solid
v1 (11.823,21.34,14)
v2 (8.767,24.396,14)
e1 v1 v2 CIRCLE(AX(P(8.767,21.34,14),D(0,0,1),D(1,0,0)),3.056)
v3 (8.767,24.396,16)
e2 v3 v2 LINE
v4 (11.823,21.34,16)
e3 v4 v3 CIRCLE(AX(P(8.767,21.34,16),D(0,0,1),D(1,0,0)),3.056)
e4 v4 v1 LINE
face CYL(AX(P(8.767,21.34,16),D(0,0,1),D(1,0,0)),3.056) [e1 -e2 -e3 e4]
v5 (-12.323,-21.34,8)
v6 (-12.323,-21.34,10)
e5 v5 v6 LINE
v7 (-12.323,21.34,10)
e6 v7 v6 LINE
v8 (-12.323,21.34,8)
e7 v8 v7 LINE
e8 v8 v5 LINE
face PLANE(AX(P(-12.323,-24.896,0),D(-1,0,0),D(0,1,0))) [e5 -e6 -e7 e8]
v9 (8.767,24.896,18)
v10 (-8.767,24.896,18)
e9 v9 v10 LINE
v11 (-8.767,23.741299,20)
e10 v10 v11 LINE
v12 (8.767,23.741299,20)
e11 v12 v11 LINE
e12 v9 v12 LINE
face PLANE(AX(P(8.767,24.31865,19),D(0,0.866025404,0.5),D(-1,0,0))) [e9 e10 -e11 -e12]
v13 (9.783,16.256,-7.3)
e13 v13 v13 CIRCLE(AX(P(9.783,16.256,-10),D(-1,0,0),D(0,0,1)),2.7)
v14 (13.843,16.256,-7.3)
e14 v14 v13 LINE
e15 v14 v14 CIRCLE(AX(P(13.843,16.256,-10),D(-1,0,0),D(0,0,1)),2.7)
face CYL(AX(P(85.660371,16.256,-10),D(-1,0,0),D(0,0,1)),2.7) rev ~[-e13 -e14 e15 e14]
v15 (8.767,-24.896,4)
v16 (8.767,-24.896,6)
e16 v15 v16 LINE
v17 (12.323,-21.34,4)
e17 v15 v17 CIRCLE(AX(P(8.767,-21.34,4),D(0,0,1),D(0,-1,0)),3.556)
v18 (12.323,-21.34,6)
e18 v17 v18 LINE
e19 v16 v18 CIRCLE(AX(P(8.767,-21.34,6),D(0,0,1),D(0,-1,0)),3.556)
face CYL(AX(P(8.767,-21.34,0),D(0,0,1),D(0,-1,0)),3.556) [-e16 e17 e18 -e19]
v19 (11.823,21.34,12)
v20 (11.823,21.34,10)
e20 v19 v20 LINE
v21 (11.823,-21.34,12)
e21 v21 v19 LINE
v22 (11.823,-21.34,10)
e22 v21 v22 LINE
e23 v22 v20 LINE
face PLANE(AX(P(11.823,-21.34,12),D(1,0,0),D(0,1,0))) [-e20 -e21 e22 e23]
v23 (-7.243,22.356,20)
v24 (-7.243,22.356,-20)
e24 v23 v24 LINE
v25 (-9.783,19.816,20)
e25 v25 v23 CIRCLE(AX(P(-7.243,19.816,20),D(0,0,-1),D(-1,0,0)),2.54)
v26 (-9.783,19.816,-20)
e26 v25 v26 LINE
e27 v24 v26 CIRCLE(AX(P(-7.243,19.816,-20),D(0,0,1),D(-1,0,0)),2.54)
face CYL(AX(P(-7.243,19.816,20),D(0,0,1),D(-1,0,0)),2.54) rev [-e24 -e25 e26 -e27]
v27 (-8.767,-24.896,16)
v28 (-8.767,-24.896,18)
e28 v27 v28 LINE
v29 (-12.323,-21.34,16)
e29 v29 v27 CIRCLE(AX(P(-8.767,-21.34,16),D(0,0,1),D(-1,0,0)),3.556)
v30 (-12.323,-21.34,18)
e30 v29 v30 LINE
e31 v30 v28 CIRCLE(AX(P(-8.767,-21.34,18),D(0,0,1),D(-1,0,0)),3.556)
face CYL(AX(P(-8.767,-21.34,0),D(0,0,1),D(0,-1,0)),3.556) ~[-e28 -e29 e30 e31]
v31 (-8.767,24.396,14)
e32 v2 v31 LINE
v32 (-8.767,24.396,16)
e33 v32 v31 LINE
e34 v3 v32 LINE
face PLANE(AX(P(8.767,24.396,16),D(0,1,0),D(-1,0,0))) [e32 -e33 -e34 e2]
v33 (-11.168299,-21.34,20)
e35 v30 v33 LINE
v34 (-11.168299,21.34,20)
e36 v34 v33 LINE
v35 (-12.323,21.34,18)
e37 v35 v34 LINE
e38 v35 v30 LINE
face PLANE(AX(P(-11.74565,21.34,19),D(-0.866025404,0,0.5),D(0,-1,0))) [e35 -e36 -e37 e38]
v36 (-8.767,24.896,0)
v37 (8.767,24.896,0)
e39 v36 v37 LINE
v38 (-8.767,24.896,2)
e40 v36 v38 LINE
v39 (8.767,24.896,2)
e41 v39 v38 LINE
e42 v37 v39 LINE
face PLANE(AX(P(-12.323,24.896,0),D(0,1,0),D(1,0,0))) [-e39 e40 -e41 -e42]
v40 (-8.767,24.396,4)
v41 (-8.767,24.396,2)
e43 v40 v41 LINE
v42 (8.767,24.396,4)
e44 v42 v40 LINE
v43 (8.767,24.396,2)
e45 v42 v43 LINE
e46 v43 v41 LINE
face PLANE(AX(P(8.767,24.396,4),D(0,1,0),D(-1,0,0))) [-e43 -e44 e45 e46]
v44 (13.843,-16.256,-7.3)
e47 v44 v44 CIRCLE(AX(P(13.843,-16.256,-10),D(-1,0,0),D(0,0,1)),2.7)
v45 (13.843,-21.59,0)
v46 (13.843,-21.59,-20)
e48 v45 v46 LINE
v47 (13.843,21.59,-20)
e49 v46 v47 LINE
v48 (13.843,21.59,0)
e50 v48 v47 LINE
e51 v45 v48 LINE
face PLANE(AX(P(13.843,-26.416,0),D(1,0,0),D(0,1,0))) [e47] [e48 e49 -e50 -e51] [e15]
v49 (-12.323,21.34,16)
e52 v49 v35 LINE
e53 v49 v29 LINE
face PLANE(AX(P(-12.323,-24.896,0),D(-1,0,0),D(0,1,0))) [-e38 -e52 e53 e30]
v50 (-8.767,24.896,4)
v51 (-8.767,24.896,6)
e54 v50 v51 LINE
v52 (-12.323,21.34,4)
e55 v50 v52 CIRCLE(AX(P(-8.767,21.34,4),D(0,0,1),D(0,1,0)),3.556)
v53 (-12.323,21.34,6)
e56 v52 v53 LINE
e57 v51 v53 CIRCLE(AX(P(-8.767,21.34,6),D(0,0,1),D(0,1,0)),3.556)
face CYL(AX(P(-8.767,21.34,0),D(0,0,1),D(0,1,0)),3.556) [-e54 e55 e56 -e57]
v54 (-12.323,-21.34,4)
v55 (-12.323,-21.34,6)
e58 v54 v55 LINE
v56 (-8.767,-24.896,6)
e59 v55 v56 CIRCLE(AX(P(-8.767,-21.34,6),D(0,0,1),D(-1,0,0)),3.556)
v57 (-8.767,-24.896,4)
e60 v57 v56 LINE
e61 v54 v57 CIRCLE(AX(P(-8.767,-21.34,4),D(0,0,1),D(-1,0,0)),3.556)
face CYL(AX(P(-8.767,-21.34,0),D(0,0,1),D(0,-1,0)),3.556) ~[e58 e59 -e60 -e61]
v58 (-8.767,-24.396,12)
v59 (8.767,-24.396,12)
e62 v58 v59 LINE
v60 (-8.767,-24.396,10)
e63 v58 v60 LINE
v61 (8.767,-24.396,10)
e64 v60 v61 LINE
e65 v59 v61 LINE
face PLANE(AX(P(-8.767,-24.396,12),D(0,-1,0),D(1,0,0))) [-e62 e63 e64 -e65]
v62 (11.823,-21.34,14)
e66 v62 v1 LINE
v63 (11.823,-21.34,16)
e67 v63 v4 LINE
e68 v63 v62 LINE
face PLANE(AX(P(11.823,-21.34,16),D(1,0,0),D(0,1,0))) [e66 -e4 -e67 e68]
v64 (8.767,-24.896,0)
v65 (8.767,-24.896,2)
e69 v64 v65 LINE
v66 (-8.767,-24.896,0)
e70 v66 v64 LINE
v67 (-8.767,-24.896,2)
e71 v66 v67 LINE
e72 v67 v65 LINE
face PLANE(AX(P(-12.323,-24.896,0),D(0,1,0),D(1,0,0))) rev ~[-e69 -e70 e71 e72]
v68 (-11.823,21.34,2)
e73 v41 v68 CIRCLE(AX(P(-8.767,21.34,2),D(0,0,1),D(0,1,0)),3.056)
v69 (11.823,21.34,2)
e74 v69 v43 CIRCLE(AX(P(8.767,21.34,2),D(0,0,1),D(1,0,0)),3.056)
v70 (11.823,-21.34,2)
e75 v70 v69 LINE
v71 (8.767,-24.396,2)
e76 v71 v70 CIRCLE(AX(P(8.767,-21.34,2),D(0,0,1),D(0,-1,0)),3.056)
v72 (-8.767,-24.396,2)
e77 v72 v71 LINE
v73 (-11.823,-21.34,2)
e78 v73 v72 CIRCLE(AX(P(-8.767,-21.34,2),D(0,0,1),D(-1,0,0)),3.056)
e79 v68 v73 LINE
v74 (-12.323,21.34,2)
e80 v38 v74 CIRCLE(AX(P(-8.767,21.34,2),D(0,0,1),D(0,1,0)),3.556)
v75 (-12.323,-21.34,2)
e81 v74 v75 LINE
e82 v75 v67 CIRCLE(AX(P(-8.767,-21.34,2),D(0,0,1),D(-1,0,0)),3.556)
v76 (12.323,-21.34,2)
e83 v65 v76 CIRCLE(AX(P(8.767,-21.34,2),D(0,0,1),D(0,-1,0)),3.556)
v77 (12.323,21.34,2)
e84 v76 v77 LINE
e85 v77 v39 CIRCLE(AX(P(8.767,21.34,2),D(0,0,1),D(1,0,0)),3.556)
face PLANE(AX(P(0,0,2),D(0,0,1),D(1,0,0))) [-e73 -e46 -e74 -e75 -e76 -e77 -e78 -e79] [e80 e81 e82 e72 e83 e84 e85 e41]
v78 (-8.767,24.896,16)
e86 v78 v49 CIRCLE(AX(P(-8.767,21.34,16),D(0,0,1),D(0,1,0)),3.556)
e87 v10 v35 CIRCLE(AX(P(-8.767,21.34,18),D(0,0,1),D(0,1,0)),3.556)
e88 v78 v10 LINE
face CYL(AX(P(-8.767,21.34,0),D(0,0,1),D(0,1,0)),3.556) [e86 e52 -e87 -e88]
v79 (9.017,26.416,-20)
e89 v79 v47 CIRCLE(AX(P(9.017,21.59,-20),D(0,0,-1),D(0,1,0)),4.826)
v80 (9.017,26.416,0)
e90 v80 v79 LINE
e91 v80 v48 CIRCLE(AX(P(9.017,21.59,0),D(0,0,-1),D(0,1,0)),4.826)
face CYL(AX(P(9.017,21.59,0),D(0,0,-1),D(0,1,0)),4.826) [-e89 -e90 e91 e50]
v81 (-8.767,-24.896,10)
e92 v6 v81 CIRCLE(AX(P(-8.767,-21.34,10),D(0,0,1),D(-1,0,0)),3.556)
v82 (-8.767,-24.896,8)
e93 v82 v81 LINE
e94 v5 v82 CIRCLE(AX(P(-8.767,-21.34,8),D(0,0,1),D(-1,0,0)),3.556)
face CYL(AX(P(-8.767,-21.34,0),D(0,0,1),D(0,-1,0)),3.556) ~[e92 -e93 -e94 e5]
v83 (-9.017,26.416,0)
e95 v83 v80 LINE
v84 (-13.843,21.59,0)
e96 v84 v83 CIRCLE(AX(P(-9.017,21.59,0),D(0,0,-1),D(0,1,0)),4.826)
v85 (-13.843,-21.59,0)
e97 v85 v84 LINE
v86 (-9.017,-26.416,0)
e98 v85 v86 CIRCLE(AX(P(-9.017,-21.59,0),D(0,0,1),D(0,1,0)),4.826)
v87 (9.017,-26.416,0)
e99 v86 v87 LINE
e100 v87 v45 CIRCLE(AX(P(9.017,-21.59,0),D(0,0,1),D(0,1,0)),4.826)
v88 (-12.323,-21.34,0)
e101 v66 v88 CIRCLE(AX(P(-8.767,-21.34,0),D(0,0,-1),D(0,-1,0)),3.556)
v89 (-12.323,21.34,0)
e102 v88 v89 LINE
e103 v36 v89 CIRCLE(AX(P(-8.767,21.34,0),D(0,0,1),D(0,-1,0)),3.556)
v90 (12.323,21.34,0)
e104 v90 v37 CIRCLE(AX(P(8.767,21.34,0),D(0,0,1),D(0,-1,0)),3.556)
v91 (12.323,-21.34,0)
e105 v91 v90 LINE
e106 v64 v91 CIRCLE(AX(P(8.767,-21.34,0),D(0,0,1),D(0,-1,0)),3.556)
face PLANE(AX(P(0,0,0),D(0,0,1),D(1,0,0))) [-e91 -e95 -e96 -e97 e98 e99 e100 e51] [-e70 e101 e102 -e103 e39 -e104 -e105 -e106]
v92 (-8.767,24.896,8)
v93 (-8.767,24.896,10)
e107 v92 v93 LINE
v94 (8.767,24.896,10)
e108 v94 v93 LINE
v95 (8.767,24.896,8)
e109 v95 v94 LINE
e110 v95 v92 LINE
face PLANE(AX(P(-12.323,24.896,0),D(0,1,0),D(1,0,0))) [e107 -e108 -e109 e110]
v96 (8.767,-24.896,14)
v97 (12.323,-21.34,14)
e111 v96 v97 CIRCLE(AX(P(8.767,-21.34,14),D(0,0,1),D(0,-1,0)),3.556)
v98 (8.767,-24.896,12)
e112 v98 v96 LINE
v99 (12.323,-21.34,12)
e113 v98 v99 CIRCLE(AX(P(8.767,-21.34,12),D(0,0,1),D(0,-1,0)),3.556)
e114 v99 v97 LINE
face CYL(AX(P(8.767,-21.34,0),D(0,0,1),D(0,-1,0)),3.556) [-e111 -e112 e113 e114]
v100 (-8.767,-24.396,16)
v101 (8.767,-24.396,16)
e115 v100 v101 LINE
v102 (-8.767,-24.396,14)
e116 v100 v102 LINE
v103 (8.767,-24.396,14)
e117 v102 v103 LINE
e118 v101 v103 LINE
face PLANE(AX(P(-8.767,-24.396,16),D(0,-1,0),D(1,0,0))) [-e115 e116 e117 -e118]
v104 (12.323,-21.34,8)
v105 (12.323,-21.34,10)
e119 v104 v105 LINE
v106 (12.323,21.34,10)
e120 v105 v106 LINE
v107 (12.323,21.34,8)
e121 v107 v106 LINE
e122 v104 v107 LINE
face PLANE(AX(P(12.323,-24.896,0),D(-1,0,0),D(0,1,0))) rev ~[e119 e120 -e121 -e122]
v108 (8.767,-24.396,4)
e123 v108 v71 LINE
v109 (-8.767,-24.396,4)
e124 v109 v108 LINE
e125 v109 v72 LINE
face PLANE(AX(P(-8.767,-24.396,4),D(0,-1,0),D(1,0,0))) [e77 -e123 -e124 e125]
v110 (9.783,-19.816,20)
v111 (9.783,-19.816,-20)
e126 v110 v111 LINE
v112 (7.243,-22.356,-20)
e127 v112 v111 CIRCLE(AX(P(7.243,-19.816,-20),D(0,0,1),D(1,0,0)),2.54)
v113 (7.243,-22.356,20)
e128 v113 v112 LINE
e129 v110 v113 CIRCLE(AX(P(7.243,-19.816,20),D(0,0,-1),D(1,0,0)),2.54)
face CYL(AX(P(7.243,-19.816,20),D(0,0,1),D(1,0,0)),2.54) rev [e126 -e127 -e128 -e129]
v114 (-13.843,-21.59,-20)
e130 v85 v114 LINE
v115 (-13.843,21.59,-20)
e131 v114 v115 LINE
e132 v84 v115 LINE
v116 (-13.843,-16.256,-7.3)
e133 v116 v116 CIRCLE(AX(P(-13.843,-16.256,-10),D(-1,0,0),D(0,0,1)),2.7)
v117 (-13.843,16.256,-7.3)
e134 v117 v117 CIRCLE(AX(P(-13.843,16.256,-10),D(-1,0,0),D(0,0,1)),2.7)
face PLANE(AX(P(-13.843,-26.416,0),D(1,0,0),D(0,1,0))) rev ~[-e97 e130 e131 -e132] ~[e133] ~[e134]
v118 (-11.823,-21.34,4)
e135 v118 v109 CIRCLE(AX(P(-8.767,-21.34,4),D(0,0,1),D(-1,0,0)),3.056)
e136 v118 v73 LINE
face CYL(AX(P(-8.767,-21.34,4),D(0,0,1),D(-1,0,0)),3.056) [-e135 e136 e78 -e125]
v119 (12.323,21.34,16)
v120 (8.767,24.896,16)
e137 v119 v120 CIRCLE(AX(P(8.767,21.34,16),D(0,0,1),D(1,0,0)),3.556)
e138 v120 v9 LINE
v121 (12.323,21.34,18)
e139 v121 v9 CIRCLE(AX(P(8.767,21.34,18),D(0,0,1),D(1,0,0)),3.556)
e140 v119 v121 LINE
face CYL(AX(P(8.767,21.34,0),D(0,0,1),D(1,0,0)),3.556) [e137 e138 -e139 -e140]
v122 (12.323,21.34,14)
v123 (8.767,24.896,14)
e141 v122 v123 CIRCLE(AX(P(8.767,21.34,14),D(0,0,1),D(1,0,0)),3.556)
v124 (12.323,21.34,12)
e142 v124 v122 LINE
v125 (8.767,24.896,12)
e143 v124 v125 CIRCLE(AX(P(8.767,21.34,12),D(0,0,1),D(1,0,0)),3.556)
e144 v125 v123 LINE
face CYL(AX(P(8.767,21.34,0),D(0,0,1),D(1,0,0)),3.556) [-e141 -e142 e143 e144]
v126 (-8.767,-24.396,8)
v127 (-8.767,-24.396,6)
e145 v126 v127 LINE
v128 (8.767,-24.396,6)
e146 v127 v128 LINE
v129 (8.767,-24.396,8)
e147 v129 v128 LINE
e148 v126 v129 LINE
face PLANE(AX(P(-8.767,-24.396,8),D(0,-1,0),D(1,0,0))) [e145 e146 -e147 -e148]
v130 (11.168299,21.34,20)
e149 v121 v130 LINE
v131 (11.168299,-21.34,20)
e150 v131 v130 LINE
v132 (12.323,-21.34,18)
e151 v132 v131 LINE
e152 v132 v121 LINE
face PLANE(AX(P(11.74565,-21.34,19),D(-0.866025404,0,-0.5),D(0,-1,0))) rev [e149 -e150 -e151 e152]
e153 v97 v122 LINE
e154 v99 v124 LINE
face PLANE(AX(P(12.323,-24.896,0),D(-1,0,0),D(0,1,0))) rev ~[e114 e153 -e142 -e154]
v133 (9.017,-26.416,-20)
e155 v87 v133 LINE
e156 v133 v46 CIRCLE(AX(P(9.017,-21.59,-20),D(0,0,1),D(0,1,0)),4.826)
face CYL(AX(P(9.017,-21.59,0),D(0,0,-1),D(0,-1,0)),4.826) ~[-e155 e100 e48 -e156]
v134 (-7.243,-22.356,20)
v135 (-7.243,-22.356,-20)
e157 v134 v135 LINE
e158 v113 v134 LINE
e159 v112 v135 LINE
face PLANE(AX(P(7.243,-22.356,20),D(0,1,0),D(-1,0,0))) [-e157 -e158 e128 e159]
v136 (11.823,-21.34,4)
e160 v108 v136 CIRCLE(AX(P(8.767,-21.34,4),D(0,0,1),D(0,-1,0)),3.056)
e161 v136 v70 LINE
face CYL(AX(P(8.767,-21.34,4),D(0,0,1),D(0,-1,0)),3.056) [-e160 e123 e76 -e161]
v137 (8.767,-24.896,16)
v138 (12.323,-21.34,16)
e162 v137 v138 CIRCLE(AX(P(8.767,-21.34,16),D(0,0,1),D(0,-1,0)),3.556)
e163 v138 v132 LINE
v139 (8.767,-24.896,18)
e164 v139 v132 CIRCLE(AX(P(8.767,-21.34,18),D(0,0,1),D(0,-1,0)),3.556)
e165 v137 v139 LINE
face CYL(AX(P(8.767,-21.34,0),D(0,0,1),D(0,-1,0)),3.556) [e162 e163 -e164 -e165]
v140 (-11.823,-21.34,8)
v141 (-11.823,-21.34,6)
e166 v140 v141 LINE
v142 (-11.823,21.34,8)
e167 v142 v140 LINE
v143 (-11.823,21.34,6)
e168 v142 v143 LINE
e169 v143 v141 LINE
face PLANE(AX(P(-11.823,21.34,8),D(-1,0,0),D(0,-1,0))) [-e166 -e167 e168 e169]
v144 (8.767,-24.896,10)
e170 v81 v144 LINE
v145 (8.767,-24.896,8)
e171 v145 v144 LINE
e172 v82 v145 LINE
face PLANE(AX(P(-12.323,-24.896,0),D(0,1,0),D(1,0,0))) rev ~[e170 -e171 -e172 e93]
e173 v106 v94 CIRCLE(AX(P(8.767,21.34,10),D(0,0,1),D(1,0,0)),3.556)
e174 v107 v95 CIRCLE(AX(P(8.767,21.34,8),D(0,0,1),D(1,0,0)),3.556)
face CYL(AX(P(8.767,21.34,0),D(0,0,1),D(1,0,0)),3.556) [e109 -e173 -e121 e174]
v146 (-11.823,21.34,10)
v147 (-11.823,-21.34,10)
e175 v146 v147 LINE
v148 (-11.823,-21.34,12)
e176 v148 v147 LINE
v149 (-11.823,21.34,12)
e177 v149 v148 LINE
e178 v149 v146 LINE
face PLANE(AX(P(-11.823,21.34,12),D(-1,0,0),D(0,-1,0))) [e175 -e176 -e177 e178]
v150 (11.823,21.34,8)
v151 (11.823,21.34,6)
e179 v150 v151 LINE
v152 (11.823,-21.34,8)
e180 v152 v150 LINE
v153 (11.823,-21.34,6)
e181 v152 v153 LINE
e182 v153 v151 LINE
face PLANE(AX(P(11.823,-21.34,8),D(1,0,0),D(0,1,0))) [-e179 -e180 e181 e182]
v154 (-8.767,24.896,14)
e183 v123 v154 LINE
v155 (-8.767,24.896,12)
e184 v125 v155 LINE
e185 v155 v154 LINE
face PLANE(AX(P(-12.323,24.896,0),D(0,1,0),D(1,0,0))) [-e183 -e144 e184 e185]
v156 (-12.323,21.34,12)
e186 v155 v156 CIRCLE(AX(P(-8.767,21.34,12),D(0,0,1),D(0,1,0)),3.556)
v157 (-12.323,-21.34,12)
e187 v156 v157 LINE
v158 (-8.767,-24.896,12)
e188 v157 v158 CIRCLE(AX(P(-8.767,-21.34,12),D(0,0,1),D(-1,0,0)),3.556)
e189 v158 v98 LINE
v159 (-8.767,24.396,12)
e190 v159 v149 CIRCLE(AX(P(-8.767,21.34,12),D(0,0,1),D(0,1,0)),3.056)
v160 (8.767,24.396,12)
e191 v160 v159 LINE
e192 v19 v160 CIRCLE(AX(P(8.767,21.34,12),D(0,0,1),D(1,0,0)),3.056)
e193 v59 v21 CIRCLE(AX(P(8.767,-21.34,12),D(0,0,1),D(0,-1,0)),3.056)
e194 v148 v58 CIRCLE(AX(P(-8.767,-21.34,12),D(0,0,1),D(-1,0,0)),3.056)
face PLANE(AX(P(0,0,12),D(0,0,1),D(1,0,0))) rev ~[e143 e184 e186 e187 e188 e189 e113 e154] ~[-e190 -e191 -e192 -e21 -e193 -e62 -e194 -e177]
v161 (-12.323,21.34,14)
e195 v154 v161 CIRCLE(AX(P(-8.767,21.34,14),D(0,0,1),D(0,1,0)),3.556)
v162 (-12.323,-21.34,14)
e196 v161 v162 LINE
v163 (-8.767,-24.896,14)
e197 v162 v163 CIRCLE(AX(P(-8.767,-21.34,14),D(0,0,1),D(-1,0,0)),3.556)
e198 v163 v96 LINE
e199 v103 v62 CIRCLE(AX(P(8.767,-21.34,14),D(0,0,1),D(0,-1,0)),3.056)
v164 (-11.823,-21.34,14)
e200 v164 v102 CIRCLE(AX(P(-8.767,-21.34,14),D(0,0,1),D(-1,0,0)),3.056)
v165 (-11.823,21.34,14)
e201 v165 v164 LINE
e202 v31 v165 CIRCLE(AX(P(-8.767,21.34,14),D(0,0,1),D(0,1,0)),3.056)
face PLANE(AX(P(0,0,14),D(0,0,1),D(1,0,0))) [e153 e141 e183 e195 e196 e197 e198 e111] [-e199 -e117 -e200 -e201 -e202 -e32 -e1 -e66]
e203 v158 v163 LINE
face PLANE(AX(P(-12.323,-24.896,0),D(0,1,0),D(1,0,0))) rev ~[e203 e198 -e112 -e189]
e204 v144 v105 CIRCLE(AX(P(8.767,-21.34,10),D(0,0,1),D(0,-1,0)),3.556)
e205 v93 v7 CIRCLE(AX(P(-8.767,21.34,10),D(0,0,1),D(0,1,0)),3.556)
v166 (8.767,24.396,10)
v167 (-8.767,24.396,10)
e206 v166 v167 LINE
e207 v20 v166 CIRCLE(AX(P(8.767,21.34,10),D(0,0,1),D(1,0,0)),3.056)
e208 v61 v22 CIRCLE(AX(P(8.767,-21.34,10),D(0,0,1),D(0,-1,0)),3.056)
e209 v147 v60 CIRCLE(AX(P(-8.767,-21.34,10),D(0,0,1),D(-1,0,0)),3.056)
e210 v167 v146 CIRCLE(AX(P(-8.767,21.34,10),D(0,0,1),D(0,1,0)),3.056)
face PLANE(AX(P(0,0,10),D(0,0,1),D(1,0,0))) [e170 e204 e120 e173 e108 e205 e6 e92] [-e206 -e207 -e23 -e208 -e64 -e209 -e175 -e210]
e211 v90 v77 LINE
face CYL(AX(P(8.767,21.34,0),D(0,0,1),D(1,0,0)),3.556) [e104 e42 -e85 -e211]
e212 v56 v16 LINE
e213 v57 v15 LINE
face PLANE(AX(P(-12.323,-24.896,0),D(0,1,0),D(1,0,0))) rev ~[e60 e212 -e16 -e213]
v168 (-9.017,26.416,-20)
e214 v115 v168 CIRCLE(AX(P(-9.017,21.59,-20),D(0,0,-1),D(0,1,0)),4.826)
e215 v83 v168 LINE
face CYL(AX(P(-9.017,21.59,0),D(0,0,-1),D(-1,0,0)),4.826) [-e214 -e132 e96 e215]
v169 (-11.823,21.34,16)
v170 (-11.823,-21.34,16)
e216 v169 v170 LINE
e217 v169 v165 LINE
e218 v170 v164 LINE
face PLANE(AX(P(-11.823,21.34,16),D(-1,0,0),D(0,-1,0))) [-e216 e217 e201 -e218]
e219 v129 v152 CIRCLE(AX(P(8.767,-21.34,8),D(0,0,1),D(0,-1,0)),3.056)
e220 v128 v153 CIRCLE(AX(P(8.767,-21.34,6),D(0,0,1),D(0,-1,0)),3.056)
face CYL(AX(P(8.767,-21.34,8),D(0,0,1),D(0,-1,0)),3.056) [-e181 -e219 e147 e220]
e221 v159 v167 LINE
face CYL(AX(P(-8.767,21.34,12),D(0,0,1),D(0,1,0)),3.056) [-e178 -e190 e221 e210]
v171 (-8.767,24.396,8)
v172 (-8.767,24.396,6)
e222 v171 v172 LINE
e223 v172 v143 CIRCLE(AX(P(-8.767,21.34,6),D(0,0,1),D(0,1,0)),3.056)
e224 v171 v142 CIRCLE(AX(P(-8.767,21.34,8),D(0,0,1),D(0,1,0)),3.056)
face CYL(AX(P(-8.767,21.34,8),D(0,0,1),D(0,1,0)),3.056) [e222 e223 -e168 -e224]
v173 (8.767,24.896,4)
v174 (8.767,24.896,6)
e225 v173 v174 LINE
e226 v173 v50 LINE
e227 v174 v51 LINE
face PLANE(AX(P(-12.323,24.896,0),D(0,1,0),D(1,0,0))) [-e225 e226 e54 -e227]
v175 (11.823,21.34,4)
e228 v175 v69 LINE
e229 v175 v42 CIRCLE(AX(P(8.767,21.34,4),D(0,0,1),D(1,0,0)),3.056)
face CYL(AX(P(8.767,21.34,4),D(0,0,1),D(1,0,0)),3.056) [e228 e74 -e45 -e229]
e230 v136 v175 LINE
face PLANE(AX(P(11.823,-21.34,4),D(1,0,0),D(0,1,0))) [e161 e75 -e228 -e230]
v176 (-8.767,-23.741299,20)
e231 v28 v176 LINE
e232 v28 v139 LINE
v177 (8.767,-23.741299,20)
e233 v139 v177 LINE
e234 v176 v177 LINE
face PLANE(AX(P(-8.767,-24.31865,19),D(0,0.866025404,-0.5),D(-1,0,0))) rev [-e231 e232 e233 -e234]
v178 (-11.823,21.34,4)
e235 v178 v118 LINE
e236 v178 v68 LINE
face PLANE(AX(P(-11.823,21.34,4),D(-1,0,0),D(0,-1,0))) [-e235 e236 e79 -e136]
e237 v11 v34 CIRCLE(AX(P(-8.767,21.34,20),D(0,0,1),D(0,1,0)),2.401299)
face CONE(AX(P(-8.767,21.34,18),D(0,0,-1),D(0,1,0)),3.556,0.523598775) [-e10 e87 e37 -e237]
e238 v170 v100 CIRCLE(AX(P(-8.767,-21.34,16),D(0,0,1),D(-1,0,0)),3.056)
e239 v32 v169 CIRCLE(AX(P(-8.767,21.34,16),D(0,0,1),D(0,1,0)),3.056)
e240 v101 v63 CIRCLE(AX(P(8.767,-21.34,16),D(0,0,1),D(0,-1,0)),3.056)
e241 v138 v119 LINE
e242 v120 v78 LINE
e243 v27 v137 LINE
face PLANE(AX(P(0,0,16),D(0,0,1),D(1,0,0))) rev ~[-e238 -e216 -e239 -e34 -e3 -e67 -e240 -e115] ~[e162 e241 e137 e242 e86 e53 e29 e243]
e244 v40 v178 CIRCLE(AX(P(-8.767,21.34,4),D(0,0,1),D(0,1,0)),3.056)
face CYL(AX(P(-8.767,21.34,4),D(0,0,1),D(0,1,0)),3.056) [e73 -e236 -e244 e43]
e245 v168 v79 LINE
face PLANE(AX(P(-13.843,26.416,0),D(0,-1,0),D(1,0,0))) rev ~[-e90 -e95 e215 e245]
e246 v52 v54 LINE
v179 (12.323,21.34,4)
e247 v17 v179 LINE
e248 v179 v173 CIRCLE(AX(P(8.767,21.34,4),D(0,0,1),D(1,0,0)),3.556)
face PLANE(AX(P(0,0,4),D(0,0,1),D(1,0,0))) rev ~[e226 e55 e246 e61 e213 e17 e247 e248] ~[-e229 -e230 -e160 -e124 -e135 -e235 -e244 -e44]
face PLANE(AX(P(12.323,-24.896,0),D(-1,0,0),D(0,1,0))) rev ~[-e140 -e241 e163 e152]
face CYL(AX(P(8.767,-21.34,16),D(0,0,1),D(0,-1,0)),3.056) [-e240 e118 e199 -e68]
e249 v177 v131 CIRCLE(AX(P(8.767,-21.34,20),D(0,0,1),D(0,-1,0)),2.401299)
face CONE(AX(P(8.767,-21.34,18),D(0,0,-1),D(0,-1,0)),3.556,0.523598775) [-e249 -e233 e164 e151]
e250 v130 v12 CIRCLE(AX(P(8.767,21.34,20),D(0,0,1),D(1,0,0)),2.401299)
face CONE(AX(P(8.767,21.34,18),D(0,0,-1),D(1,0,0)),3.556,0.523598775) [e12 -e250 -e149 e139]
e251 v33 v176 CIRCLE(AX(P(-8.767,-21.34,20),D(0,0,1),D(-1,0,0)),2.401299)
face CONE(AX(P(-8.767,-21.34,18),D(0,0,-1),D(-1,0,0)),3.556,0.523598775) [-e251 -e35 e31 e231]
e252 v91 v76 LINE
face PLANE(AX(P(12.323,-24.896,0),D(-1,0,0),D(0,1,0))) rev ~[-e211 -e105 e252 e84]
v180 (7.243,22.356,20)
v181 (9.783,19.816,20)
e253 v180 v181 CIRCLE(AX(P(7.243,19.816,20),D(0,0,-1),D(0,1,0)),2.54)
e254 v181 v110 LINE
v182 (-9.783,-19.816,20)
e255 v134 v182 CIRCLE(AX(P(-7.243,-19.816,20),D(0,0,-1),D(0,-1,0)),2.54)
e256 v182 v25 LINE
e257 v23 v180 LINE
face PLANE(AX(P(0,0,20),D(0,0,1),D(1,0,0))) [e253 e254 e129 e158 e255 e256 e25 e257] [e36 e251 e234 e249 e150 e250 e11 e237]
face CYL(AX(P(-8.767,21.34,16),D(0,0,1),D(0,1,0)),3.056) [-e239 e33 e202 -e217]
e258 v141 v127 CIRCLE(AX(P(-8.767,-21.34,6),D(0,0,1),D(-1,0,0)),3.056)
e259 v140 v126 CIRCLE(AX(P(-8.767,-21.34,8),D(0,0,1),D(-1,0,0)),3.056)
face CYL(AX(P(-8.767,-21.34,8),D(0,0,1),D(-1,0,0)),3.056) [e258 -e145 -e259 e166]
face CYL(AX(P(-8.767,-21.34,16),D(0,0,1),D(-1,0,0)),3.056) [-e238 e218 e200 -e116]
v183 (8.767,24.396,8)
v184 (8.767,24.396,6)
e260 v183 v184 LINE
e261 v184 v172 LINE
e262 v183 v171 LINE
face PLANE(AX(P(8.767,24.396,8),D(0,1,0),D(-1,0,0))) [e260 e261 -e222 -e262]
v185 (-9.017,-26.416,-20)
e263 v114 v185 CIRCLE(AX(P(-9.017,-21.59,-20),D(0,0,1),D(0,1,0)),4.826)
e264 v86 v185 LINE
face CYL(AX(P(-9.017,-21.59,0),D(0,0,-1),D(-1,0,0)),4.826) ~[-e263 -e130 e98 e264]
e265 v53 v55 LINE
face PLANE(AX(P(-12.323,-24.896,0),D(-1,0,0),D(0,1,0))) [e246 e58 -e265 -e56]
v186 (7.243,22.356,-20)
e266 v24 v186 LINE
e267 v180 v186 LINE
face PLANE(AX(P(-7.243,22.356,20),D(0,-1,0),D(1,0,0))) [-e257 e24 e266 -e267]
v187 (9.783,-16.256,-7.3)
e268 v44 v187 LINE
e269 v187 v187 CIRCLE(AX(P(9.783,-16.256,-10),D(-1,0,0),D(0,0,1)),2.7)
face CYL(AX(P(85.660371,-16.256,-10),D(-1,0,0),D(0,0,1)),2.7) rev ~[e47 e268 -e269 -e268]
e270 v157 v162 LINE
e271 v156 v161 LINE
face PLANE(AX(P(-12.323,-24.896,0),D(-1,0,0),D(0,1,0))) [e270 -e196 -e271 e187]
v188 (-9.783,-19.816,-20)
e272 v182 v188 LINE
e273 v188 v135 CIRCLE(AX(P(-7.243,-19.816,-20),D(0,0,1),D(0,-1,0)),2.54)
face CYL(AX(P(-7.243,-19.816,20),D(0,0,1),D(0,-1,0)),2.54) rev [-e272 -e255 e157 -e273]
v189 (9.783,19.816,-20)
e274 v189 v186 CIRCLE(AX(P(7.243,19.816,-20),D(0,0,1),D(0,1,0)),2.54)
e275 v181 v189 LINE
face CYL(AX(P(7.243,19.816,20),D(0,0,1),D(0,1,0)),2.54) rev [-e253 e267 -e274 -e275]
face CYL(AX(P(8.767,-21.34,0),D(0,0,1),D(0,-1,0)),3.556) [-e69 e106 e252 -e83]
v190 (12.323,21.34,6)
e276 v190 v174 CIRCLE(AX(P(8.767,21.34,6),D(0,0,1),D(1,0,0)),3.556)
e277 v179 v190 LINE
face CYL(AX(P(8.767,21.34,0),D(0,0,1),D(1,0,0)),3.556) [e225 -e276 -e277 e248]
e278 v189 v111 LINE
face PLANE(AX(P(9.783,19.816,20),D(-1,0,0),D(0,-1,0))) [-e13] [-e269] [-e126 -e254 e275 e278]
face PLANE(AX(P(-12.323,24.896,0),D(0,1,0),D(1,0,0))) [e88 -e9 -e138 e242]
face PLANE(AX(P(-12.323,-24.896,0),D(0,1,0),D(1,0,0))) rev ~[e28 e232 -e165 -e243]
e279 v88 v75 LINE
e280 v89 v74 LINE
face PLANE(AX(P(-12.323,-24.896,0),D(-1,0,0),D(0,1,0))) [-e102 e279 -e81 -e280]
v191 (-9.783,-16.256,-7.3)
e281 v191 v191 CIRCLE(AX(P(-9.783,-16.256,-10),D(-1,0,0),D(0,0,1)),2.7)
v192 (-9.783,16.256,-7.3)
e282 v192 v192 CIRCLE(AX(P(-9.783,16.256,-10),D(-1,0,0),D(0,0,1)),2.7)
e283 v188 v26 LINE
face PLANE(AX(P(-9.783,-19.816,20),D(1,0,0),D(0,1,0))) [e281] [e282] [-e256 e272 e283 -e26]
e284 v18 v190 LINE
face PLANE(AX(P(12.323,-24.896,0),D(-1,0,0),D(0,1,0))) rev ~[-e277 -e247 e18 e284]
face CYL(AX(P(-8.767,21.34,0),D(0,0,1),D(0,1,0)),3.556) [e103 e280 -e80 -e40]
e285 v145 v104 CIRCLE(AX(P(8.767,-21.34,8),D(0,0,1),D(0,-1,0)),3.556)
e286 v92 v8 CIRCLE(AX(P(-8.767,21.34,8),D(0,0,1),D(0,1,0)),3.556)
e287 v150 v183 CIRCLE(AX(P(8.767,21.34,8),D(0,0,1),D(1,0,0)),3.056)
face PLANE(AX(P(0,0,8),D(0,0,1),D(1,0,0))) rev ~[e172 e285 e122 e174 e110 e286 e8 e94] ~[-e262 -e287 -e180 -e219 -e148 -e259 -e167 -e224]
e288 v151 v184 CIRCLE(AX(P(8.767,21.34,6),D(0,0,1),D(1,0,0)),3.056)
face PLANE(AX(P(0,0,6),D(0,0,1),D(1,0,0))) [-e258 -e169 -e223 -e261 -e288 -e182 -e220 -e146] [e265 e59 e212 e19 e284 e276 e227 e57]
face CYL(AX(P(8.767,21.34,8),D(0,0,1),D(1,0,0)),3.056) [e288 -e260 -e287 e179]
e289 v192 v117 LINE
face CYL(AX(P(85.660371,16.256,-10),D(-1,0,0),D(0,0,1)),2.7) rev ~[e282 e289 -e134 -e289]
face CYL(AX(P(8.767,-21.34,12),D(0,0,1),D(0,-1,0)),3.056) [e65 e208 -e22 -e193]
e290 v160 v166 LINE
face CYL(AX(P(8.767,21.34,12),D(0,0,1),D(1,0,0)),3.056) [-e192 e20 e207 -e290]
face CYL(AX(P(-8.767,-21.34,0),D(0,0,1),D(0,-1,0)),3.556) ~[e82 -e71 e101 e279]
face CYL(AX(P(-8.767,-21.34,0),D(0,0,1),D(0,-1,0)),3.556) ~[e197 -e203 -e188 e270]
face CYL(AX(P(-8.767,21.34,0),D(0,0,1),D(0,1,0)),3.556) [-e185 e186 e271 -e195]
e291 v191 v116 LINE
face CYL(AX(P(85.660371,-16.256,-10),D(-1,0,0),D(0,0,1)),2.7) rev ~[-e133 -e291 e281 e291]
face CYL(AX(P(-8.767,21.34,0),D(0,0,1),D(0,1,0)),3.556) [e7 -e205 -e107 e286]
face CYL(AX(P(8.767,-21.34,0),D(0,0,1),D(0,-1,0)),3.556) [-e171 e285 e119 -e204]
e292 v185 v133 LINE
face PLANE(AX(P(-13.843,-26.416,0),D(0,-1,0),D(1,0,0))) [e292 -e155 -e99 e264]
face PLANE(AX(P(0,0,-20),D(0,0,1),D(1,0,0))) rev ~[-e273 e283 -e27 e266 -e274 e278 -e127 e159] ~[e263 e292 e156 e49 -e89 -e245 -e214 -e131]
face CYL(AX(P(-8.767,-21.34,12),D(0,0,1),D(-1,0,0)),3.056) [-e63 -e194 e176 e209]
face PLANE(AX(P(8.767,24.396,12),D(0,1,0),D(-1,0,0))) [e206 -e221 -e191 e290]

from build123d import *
from OCP.BRepFilletAPI import BRepFilletAPI_MakeChamfer

# Parameters (mm, degrees)
SKETCH1_W             = 24.646
SKETCH1_H             = 49.792
BOSS_EXTRUDE1_DEPTH   = 20
SKETCH2_W             = 27.686
SKETCH2_H             = 52.832
BOSS_EXTRUDE2_DEPTH   = 20
FILLET1_R             = 3.556
FILLET2_R             = 4.826
F_5_0MM_DOWEL_HOLE2_D = 5.4
CUT_EXTRUDE1_DEPTH    = 50.894225167
CUT_EXTRUDE2_START    = -4
CUT_EXTRUDE2_DEPTH    = 2
LPATTERN1_COUNT       = 4
LPATTERN1_PITCH       = 4
CHAMFER1_SIZE         = 2
CHAMFER1_SIZE2        = 1.154700538


with BuildPart() as part:
    # Sketch1 → Boss-Extrude1 (new body)
    with BuildSketch(Plane.XY):
        Rectangle(SKETCH1_W, SKETCH1_H)
    extrude(amount=BOSS_EXTRUDE1_DEPTH)

    # Sketch2 → Boss-Extrude2 (add)
    with BuildSketch(Plane.XY):
        Rectangle(SKETCH2_W, SKETCH2_H)
    extrude(amount=-BOSS_EXTRUDE2_DEPTH)

    # Fillet1
    fillet1_edges = [part.edges().sort_by_distance(p)[0] for p in [
        (-12.323, 24.896, 10),
        (12.323, 24.896, 10),
        (12.323, -24.896, 10),
        (-12.323, -24.896, 10),
    ]]
    fillet(fillet1_edges, radius=FILLET1_R)

    # Fillet2
    fillet2_edges = [part.edges().sort_by_distance(p)[0] for p in [
        (-13.843, -26.416, -10),
        (-13.843, 26.416, -10),
        (13.843, 26.416, -10),
        (13.843, -26.416, -10),
    ]]
    fillet(fillet2_edges, radius=FILLET2_R)

    # Ø5.0mm Dowel Hole2 (through all)
    with Locations(Plane(origin=(13.843, 0, 0), x_dir=(0, 0, -1), z_dir=(1, 0, 0))):
        with Locations((10, 16.256), (10, -16.256)):
            Hole(F_5_0MM_DOWEL_HOLE2_D / 2)

    # Sketch9 → Cut-Extrude1 (cut, through all)
    with BuildSketch(Plane.XY.offset(20)):
        with BuildLine():
            Line((7.243, -22.356), (-7.243, -22.356))
            ThreePointArc((-7.243, -22.356), (-9.039051224, -21.612051224), (-9.783, -19.816))
            Line((-9.783, -19.816), (-9.783, 19.816))
            ThreePointArc((-9.783, 19.816), (-9.039051224, 21.612051224), (-7.243, 22.356))
            Line((-7.243, 22.356), (7.243, 22.356))
            ThreePointArc((7.243, 22.356), (9.039051224, 21.612051224), (9.783, 19.816))
            Line((9.783, 19.816), (9.783, -19.816))
            ThreePointArc((9.783, -19.816), (9.039051224, -21.612051224), (7.243, -22.356))
        make_face()
    extrude(amount=-CUT_EXTRUDE1_DEPTH, mode=Mode.SUBTRACT)

    # Sketch10 → Cut-Extrude2 (cut)
    with BuildSketch(Plane.XY.offset(20).offset(CUT_EXTRUDE2_START)):
        with BuildLine():
            Line((-12.323, 21.34), (-12.323, -21.34))
            ThreePointArc((-12.323, -21.34), (-11.281471714, -23.854471714), (-8.767, -24.896))
            Line((-8.767, -24.896), (8.767, -24.896))
            ThreePointArc((8.767, -24.896), (11.281471714, -23.854471714), (12.323, -21.34))
            Line((12.323, -21.34), (12.323, 21.34))
            ThreePointArc((12.323, 21.34), (11.281471714, 23.854471714), (8.767, 24.896))
            Line((8.767, 24.896), (-8.767, 24.896))
            ThreePointArc((-8.767, 24.896), (-11.281471714, 23.854471714), (-12.323, 21.34))
        make_face()
        with BuildLine():
            Line((-11.823, 21.34), (-11.823, -21.34))
            ThreePointArc((-11.823, -21.34), (-10.927918323, -23.500918323), (-8.767, -24.396))
            Line((-8.767, -24.396), (8.767, -24.396))
            ThreePointArc((8.767, -24.396), (10.927918323, -23.500918323), (11.823, -21.34))
            Line((11.823, -21.34), (11.823, 21.34))
            ThreePointArc((11.823, 21.34), (10.927918323, 23.500918323), (8.767, 24.396))
            Line((8.767, 24.396), (-8.767, 24.396))
            ThreePointArc((-8.767, 24.396), (-10.927918323, 23.500918323), (-11.823, 21.34))
        make_face(mode=Mode.SUBTRACT)
    cut_extrude2 = extrude(amount=-CUT_EXTRUDE2_DEPTH, mode=Mode.SUBTRACT)

    # LPattern1: Cut-Extrude2 ×4
    with Locations(*[(0, 0, -i * LPATTERN1_PITCH) for i in range(1, LPATTERN1_COUNT)]):
        add(cut_extrude2, mode=Mode.SUBTRACT)

    # Chamfer1: one chamfer whose edges measure the first distance from different faces: ONE call of the kernel's chamfer builder (chamfer() names one face for all edges)
    chamfer1_edges_1 = [part.edges().sort_by_distance(p)[0] for p in [
        (0, -24.896, 20),
    ]]
    chamfer1_side_1 = [part.faces().sort_by_distance(p)[0] for p in [
        (0, -24.896, 18),
    ]]
    chamfer1_edges_2 = [part.edges().sort_by_distance(p)[0] for p in [
        (-12.323, 0, 20),
    ]]
    chamfer1_side_2 = [part.faces().sort_by_distance(p)[0] for p in [
        (-12.323, 0, 18),
    ]]
    chamfer1_edges_3 = [part.edges().sort_by_distance(p)[0] for p in [
        (12.323, 0, 20),
    ]]
    chamfer1_side_3 = [part.faces().sort_by_distance(p)[0] for p in [
        (12.323, 0, 18),
    ]]
    chamfer1_edges_4 = [part.edges().sort_by_distance(p)[0] for p in [
        (0, 24.896, 20),
    ]]
    chamfer1_side_4 = [part.faces().sort_by_distance(p)[0] for p in [
        (0, 24.896, 18),
    ]]
    chamfer1_edges_5 = [part.edges().sort_by_distance(p)[0] for p in [
        (-11.281471714, 23.854471714, 20),
    ]]
    chamfer1_side_5 = [part.faces().sort_by_distance(p)[0] for p in [
        (-11.281471714, 23.854471714, 18),
    ]]
    chamfer1_edges_6 = [part.edges().sort_by_distance(p)[0] for p in [
        (11.281471714, 23.854471714, 20),
    ]]
    chamfer1_side_6 = [part.faces().sort_by_distance(p)[0] for p in [
        (11.281471714, 23.854471714, 18),
    ]]
    chamfer1_edges_7 = [part.edges().sort_by_distance(p)[0] for p in [
        (11.281471714, -23.854471714, 20),
    ]]
    chamfer1_side_7 = [part.faces().sort_by_distance(p)[0] for p in [
        (11.281471714, -23.854471714, 18),
    ]]
    chamfer1_edges_8 = [part.edges().sort_by_distance(p)[0] for p in [
        (-11.281471714, -23.854471714, 20),
    ]]
    chamfer1_side_8 = [part.faces().sort_by_distance(p)[0] for p in [
        (-11.281471714, -23.854471714, 18),
    ]]
    chamfer1 = BRepFilletAPI_MakeChamfer(part.part.solid().wrapped)
    for e in chamfer1_edges_1:
        chamfer1.Add(CHAMFER1_SIZE, CHAMFER1_SIZE2, e.wrapped, chamfer1_side_1[0].wrapped)  # the first distance lies on this face
    for e in chamfer1_edges_2:
        chamfer1.Add(CHAMFER1_SIZE, CHAMFER1_SIZE2, e.wrapped, chamfer1_side_2[0].wrapped)  # the first distance lies on this face
    for e in chamfer1_edges_3:
        chamfer1.Add(CHAMFER1_SIZE, CHAMFER1_SIZE2, e.wrapped, chamfer1_side_3[0].wrapped)  # the first distance lies on this face
    for e in chamfer1_edges_4:
        chamfer1.Add(CHAMFER1_SIZE, CHAMFER1_SIZE2, e.wrapped, chamfer1_side_4[0].wrapped)  # the first distance lies on this face
    for e in chamfer1_edges_5:
        chamfer1.Add(CHAMFER1_SIZE, CHAMFER1_SIZE2, e.wrapped, chamfer1_side_5[0].wrapped)  # the first distance lies on this face
    for e in chamfer1_edges_6:
        chamfer1.Add(CHAMFER1_SIZE, CHAMFER1_SIZE2, e.wrapped, chamfer1_side_6[0].wrapped)  # the first distance lies on this face
    for e in chamfer1_edges_7:
        chamfer1.Add(CHAMFER1_SIZE, CHAMFER1_SIZE2, e.wrapped, chamfer1_side_7[0].wrapped)  # the first distance lies on this face
    for e in chamfer1_edges_8:
        chamfer1.Add(CHAMFER1_SIZE, CHAMFER1_SIZE2, e.wrapped, chamfer1_side_8[0].wrapped)  # the first distance lies on this face
    add(Compound.cast(chamfer1.Shape()), mode=Mode.REPLACE)


solid = part.part
